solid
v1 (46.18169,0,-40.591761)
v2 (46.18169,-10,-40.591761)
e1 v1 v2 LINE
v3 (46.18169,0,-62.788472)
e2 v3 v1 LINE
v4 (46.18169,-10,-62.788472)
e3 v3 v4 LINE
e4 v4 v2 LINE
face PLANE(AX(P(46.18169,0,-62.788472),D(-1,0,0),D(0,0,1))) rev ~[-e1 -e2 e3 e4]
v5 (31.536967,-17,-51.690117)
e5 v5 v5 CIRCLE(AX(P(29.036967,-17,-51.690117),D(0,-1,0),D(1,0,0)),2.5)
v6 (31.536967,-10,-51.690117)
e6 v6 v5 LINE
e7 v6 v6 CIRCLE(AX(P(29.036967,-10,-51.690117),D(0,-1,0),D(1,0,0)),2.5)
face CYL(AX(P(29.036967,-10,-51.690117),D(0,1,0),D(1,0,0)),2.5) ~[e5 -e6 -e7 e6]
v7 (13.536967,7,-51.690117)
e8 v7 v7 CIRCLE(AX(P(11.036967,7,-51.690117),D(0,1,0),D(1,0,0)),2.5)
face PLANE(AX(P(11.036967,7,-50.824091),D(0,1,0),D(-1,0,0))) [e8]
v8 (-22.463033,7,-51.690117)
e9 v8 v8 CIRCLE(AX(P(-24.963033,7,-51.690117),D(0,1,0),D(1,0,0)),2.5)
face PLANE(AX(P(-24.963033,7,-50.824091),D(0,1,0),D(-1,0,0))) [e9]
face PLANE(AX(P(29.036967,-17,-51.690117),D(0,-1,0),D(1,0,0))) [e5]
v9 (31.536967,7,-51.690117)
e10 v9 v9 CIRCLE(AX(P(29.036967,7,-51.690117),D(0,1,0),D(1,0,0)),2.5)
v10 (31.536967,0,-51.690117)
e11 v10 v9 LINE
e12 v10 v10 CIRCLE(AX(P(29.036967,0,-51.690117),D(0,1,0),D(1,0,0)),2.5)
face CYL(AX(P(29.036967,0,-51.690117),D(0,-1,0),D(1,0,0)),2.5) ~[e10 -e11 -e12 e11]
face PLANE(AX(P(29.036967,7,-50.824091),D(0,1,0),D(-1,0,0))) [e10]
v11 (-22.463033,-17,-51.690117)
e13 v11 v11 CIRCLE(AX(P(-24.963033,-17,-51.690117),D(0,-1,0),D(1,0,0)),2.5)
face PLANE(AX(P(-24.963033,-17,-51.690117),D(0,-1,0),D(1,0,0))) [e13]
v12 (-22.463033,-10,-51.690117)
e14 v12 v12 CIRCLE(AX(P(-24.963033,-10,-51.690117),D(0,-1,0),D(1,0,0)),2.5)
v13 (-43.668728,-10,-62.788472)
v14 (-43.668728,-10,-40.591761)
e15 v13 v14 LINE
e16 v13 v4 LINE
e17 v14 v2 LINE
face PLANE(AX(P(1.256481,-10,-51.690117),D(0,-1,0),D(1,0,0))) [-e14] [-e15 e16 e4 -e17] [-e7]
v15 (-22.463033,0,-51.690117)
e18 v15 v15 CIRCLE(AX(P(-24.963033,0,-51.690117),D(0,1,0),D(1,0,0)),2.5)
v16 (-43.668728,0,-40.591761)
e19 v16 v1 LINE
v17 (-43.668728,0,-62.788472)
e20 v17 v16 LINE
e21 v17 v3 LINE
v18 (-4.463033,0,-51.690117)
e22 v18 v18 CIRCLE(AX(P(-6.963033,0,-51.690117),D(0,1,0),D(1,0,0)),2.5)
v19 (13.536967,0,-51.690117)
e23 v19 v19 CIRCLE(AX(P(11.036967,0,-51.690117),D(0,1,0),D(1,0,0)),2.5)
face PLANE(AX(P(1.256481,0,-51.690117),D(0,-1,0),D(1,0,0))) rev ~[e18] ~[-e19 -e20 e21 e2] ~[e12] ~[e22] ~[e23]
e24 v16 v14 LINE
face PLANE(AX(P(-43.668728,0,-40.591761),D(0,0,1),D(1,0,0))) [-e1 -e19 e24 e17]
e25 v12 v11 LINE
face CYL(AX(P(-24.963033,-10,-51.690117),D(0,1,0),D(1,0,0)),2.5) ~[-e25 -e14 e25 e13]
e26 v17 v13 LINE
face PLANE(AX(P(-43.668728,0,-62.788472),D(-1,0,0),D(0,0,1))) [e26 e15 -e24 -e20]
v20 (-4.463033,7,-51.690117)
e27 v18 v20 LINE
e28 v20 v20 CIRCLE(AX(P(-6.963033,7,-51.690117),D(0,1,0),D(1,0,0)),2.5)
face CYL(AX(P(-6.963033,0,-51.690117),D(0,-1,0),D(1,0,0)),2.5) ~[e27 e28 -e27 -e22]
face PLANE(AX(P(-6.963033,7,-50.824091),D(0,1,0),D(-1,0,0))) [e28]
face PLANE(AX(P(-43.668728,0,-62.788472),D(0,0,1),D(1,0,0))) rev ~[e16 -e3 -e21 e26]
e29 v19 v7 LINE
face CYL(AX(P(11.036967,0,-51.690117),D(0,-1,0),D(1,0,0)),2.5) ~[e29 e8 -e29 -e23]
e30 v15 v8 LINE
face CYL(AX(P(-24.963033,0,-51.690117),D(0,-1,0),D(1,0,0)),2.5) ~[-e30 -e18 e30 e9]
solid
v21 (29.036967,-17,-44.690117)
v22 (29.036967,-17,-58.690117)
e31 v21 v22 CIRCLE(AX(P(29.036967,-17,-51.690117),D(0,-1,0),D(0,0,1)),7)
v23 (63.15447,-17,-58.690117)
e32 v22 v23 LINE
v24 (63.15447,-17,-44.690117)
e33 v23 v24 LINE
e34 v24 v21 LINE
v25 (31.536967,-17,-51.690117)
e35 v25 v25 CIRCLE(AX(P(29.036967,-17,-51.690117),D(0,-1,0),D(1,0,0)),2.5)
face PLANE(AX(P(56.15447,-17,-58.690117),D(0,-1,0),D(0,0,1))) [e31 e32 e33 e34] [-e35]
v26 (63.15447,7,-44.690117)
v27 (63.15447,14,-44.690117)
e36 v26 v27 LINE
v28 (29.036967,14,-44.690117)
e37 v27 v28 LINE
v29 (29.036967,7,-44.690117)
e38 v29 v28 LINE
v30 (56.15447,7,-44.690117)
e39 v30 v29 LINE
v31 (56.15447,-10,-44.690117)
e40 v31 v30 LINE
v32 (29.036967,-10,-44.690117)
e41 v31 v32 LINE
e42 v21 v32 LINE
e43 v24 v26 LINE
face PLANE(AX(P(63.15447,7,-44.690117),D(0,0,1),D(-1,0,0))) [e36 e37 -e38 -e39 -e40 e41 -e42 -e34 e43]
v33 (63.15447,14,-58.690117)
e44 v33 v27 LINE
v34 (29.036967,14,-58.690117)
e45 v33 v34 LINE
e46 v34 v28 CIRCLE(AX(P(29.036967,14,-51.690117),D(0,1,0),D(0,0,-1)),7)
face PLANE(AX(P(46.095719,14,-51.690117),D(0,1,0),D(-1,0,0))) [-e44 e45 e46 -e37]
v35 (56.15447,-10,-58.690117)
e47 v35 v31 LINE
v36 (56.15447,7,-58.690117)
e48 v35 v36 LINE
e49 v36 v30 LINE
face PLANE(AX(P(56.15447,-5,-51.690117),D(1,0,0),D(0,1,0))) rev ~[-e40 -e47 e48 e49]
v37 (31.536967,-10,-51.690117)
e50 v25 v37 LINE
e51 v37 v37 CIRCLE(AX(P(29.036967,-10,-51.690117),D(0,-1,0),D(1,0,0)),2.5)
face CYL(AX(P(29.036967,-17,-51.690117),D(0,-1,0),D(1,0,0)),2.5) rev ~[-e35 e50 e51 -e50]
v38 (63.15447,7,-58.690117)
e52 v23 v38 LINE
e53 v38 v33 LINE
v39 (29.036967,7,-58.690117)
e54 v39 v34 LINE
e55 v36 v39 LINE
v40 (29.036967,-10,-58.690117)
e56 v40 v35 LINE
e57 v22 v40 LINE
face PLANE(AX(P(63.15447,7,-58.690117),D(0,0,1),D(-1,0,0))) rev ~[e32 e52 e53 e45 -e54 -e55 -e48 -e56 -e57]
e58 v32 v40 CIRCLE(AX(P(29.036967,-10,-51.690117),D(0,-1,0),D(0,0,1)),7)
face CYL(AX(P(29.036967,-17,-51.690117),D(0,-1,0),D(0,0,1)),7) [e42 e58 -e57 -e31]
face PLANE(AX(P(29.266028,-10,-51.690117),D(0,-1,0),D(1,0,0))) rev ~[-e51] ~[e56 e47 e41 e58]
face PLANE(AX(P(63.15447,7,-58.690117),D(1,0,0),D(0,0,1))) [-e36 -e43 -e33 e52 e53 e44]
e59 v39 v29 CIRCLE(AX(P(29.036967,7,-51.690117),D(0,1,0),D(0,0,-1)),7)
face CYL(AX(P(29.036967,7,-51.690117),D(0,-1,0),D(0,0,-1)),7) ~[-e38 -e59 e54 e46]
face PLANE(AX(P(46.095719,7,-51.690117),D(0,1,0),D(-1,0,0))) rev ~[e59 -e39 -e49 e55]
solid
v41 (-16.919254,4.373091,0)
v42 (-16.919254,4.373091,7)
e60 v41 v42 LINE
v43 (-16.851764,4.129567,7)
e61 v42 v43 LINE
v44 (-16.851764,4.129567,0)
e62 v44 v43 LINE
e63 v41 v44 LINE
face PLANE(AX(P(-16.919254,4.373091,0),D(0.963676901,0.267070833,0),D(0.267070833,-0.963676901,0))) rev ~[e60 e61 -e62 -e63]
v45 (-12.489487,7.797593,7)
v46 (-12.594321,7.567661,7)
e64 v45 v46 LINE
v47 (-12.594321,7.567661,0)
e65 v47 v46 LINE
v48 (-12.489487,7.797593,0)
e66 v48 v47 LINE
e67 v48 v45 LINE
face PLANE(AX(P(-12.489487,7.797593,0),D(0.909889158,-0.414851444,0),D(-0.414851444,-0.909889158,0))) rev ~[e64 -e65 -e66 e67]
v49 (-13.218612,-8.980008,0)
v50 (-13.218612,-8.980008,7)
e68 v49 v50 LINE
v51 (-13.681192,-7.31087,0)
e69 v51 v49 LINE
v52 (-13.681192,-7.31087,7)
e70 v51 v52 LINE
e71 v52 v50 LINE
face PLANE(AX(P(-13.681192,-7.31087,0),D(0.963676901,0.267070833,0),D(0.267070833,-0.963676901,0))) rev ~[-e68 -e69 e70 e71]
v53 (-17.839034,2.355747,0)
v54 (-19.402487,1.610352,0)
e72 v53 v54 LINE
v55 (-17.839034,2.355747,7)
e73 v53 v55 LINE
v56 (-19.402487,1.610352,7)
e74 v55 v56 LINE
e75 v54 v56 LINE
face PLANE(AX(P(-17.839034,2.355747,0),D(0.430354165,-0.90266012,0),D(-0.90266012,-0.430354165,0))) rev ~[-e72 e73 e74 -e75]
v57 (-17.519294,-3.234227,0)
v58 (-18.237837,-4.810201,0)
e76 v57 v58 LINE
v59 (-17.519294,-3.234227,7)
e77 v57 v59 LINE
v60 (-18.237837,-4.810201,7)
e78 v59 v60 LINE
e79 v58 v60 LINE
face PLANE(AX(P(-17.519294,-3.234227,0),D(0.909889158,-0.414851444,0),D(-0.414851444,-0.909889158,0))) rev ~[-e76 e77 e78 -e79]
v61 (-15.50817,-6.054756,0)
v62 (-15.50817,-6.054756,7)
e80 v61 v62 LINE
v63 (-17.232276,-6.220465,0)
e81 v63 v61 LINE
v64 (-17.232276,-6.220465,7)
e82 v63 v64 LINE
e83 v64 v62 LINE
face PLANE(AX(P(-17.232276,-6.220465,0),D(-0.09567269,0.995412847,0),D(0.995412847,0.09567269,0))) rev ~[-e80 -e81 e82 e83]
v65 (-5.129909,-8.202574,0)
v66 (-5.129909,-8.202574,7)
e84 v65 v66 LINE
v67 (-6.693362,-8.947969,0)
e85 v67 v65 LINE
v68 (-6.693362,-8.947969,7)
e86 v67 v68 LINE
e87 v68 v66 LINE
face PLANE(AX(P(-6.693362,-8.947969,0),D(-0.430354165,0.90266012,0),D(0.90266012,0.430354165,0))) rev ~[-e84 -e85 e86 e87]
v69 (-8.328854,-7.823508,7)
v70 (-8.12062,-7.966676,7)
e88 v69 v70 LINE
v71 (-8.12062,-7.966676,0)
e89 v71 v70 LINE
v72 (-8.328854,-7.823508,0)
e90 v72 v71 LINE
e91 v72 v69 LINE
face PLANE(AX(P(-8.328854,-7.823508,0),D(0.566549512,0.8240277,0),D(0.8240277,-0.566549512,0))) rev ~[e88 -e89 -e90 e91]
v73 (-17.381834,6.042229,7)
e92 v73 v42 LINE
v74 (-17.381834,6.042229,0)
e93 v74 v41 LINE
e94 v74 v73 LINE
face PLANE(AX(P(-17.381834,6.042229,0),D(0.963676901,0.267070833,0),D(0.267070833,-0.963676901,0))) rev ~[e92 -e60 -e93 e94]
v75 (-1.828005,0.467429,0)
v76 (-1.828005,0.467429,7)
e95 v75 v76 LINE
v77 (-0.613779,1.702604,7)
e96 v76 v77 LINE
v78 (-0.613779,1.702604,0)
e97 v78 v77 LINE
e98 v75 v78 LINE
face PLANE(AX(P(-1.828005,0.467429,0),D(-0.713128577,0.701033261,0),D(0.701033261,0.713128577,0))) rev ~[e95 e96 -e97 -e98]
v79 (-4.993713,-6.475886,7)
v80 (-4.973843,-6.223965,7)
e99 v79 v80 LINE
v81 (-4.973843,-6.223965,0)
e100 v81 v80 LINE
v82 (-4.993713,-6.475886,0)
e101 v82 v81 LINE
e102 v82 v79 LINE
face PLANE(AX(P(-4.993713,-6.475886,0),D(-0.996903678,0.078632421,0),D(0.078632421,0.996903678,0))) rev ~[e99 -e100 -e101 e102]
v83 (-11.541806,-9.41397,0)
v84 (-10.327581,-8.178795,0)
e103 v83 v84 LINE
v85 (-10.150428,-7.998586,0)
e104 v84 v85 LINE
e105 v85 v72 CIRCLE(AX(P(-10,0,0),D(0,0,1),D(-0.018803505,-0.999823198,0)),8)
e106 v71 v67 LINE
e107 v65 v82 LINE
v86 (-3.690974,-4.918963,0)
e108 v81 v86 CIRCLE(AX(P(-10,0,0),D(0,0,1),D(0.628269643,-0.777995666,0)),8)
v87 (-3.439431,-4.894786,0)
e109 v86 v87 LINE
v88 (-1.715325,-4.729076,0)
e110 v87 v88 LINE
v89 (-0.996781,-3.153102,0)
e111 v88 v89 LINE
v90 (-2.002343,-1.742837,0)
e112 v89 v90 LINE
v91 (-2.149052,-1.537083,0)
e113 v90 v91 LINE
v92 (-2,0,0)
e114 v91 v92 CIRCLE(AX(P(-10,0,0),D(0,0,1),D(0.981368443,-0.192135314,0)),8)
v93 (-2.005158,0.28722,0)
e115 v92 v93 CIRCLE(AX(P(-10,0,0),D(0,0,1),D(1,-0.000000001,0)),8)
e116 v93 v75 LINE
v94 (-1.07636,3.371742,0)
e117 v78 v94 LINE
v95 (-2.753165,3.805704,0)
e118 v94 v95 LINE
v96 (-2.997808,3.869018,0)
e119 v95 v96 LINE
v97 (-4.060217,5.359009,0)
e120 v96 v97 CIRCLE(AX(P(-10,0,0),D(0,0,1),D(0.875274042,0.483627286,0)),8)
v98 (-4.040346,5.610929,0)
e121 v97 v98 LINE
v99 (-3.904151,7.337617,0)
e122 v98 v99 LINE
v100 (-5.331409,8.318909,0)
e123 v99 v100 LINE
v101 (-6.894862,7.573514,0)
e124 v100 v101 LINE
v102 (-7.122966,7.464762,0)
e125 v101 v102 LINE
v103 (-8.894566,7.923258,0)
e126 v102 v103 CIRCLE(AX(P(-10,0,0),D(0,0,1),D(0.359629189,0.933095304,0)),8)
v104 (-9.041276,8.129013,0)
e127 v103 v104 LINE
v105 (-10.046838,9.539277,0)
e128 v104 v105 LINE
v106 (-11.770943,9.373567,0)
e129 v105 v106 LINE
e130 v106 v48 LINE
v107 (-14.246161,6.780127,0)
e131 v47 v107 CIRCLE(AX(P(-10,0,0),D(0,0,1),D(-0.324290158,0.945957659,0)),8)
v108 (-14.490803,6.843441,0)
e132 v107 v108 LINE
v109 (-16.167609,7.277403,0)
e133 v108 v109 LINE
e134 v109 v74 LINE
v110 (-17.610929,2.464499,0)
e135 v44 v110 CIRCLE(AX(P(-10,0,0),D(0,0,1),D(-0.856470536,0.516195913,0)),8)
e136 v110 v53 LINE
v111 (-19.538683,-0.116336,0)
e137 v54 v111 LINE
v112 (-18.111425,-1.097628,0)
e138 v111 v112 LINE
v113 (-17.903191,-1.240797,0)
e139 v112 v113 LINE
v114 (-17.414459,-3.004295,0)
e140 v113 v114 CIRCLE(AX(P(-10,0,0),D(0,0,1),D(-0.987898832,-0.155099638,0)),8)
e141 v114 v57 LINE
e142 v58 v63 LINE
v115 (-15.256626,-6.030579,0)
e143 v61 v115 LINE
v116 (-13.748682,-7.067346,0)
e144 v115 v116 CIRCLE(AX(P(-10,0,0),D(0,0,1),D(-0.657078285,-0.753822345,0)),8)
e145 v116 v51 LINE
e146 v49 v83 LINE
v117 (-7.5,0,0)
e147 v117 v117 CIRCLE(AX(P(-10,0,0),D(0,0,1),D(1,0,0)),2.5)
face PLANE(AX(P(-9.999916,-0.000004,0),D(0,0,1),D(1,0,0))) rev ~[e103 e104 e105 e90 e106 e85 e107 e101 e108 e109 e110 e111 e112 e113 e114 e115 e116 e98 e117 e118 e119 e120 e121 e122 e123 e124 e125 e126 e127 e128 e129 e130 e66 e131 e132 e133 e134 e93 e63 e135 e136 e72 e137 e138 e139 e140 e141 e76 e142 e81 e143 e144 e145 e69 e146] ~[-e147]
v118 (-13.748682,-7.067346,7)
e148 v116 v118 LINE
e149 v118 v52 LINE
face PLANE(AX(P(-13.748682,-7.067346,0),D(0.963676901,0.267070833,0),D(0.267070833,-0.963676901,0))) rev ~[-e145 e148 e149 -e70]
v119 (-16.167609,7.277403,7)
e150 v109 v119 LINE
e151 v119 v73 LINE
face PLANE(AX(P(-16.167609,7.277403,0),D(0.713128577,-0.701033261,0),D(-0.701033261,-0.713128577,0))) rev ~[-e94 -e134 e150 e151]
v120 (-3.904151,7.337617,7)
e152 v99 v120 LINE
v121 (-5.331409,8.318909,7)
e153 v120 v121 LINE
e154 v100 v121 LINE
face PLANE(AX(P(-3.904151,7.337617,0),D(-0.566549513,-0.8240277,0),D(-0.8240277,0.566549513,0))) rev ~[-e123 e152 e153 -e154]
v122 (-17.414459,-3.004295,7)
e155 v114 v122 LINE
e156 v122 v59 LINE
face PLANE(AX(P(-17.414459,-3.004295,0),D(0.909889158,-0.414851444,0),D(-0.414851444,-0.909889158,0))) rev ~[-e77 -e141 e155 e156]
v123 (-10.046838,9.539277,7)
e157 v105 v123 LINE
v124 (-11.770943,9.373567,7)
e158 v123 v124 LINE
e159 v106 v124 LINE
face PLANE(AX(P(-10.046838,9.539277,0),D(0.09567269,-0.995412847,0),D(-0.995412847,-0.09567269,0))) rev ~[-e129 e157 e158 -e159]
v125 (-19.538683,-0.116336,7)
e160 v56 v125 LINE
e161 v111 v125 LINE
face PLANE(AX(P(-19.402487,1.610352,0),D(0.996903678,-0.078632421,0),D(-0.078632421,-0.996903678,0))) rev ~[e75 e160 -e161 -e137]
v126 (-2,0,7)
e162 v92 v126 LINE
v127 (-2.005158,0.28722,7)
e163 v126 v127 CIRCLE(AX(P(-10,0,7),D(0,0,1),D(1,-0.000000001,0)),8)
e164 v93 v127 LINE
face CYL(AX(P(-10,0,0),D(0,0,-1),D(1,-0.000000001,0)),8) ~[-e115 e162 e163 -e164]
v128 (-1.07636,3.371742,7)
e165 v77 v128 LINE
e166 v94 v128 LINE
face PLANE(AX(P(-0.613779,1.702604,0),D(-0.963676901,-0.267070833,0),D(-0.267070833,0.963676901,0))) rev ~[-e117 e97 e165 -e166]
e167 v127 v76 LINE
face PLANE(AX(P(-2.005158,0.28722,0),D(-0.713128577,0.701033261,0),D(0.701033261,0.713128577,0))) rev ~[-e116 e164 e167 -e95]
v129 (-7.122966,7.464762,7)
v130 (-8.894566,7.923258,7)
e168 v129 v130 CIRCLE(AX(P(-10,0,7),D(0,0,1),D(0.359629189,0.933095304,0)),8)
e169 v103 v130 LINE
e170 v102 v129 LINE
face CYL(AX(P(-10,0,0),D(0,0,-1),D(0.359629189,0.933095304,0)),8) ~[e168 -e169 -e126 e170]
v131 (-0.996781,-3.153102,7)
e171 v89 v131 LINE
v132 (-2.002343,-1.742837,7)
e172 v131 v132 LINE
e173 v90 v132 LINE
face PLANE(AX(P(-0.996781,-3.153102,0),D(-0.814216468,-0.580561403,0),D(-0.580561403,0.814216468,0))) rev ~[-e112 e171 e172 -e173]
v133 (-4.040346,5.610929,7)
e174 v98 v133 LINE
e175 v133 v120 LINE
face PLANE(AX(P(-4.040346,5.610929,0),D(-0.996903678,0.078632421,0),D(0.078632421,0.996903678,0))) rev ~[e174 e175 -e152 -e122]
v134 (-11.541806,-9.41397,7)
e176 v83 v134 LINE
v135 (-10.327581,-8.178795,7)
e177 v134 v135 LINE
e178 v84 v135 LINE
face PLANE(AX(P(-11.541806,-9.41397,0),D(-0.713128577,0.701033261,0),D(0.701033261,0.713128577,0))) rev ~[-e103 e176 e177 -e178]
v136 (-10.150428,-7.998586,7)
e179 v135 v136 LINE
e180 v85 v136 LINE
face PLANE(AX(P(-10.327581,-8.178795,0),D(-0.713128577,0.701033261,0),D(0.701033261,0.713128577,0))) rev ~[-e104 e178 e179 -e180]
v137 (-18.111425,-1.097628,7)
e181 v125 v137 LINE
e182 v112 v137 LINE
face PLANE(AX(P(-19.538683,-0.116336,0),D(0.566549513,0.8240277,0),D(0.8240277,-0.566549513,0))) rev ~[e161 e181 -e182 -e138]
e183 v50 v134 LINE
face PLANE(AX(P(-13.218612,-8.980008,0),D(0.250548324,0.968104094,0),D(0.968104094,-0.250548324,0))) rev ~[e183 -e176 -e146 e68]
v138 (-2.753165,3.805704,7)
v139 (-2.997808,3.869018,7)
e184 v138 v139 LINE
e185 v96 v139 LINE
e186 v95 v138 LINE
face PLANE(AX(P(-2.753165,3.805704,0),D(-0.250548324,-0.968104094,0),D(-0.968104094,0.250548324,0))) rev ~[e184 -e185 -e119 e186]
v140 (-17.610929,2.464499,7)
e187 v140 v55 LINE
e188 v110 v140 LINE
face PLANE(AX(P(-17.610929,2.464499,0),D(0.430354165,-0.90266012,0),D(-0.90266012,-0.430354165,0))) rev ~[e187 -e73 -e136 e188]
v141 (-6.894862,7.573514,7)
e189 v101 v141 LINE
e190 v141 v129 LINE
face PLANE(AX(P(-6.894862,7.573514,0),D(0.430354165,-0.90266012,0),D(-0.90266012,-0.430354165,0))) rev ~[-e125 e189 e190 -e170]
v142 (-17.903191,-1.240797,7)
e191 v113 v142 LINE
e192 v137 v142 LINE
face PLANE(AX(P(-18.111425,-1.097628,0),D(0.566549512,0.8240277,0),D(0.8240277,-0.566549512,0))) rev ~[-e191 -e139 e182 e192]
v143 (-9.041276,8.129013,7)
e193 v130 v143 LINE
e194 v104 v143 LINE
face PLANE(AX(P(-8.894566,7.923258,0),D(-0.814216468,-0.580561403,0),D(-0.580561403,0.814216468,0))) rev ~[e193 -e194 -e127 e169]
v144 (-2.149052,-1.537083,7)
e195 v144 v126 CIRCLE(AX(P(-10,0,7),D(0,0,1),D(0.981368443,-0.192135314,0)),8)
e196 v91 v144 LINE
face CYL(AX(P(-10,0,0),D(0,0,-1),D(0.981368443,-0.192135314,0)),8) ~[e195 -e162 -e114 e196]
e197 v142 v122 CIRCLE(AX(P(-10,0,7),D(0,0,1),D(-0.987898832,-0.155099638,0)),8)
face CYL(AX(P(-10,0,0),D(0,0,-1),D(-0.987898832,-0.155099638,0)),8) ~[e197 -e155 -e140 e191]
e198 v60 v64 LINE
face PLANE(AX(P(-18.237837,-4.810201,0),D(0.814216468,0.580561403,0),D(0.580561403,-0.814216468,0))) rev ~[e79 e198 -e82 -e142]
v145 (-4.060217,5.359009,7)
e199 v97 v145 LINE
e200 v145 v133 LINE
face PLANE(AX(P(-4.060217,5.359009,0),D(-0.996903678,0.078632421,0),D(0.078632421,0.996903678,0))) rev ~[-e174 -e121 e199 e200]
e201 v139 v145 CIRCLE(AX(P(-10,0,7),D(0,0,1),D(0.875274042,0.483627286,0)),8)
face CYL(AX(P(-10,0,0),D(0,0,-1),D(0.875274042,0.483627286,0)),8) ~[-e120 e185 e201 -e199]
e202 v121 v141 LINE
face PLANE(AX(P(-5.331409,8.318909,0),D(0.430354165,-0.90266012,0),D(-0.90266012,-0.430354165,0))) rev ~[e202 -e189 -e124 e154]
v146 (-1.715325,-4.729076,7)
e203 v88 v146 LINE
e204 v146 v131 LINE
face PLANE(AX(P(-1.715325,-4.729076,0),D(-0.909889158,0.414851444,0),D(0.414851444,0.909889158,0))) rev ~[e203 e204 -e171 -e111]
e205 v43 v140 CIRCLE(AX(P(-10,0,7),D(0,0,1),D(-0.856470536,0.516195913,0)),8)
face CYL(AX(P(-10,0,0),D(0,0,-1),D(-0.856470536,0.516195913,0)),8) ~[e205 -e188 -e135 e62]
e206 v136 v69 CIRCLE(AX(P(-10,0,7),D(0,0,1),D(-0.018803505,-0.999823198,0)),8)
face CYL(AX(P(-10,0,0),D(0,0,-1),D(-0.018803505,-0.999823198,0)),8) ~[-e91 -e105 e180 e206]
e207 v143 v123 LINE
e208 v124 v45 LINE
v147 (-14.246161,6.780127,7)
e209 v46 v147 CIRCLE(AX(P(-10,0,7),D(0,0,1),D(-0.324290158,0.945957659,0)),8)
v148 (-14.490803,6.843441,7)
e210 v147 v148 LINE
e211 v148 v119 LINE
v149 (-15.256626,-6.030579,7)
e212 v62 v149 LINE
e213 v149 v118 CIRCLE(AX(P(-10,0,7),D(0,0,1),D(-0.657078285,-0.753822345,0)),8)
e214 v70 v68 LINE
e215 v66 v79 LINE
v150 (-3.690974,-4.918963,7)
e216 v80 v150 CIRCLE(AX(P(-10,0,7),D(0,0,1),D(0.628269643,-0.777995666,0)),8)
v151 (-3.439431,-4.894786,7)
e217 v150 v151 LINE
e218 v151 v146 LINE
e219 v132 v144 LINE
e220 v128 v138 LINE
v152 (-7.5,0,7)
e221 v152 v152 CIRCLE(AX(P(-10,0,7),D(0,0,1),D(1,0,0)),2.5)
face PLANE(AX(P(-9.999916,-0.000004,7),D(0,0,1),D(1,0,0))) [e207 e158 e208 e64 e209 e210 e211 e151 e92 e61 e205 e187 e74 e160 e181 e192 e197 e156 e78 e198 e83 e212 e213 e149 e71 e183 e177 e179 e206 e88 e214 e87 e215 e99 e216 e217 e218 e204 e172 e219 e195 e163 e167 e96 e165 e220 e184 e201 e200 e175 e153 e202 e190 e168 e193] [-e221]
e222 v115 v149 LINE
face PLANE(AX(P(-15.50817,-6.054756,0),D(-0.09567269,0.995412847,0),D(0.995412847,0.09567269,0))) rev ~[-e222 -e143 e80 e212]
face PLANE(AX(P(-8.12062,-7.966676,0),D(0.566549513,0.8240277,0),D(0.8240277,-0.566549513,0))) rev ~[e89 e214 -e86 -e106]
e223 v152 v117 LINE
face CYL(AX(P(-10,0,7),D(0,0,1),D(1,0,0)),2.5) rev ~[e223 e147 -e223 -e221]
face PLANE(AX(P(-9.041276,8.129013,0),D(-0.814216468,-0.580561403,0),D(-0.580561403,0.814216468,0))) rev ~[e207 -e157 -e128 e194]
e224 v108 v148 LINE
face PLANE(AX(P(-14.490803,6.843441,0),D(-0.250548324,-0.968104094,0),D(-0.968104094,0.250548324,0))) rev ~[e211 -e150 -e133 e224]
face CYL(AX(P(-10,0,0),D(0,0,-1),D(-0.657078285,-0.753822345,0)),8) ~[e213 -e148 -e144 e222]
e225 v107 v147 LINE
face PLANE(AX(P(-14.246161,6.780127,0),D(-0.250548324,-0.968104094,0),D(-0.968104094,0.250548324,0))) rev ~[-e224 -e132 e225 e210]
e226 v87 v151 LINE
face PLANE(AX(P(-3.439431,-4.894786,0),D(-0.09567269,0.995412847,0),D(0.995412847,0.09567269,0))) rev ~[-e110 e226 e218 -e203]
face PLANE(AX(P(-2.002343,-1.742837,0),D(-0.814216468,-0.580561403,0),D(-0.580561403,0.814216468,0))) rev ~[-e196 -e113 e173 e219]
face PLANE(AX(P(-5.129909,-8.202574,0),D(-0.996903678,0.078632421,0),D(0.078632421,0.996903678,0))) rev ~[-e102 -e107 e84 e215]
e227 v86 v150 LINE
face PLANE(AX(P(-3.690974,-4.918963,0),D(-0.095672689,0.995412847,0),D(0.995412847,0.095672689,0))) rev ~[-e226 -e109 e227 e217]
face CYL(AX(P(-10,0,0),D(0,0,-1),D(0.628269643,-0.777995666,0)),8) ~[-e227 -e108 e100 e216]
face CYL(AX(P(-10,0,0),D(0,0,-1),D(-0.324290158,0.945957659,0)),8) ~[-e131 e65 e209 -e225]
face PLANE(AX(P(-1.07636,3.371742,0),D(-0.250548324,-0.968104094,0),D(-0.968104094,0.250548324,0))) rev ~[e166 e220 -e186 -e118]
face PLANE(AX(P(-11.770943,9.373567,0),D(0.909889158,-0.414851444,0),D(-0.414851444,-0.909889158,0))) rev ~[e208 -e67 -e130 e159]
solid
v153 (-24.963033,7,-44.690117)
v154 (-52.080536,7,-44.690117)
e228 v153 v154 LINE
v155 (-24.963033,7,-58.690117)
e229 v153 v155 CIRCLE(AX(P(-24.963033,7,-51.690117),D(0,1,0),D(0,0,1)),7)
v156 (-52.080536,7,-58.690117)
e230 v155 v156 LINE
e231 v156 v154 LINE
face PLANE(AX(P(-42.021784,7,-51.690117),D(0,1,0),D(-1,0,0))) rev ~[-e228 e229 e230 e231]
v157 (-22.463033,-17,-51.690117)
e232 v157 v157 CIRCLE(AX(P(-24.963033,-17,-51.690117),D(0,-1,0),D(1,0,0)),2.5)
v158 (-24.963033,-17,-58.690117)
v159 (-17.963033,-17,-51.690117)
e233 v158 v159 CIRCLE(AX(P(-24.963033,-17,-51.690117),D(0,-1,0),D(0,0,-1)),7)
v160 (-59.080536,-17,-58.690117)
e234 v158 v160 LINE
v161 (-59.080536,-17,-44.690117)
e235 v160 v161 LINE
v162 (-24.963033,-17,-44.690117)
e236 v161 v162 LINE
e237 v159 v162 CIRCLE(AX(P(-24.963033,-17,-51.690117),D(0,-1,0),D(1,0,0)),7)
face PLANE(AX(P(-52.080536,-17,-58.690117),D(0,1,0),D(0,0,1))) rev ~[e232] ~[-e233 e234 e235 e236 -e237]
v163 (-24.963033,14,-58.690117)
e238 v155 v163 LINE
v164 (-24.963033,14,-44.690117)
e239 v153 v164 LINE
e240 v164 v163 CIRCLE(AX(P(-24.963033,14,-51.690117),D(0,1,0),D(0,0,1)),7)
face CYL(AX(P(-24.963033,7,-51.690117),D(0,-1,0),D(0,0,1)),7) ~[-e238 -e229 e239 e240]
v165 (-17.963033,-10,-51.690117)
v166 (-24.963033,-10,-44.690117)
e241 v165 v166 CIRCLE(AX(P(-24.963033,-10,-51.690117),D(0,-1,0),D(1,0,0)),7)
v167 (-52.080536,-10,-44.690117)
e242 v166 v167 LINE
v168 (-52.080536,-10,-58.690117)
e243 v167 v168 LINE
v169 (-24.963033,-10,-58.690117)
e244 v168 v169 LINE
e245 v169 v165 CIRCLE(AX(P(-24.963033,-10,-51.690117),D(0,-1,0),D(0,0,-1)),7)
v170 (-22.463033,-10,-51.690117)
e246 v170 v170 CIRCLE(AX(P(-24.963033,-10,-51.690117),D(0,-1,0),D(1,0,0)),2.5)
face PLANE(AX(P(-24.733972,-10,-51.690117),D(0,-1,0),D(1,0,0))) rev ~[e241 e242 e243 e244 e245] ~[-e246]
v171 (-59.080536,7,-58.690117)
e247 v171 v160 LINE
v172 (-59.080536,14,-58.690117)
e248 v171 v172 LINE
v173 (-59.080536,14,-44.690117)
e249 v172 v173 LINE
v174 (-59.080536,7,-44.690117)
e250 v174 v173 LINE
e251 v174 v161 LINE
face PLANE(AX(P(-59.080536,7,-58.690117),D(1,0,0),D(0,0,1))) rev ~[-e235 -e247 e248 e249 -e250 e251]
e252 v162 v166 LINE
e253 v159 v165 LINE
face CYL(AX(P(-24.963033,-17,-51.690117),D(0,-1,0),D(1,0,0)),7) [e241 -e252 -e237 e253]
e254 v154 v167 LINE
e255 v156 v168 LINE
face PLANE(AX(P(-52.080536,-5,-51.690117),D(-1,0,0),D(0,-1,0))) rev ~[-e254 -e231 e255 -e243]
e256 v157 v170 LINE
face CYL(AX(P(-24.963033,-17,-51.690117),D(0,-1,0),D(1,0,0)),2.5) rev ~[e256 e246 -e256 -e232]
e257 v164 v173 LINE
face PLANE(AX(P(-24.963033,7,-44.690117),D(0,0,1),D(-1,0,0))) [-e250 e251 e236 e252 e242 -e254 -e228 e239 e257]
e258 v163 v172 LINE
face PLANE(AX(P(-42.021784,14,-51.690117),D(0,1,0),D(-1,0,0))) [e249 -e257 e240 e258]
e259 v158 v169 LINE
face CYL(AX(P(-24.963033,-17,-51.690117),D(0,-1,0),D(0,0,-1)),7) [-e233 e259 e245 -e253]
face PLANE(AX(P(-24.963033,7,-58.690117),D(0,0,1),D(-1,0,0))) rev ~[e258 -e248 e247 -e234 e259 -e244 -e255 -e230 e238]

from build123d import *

# Parameters (mm, degrees)
F1_DEPTH  = 7
F2_R      = 2.5
F3_DEPTH  = 25
F4_W      = 89.8504182696
F4_H      = 22.1967101097
F5_DEPTH  = 10
F7_DEPTH  = 7
F8_R      = 2.5
F9_DEPTH  = 7
F10_R     = 2.5
F11_DEPTH = 7
F12_W     = 24
F12_H     = 14
F13_DEPTH = 7
F14_W     = 34.1175030857
F14_H     = 14
F15_DEPTH = 7
F16_W     = 24
F16_H     = 14
F17_DEPTH = 7
F18_W     = 34.1175030857
F18_H     = 14
F19_DEPTH = 7


with BuildPart() as f1:
    # F0 (on Top) → F1 (new body)
    with BuildSketch(Plane.XY):
        with BuildLine():
            ThreePointArc((-2.1490524557, -1.5370825146), (-2.0373503043, -0.7721462444), (-2, 0))
            ThreePointArc((-2, 0), (-2.0012895065, 0.1436330113), (-2.0051576105, 0.2872197187))
            ThreePointArc((-2.0051576105, 0.2872197187), (-2.2905847902, 2.136566667), (-2.997807665, 3.8690182869))
            ThreePointArc((-2.997807665, 3.8690182869), (-3.4862682544, 4.6444912258), (-4.0602166903, 5.3590086988))
            ThreePointArc((-4.0602166903, 5.3590086988), (-5.4676038996, 6.5922215974), (-7.1229664886, 7.4647624325))
            ThreePointArc((-7.1229664886, 7.4647624325), (-7.9956134055, 7.7448327535), (-8.8945663941, 7.92325795))
            ThreePointArc((-8.8945663941, 7.92325795), (-10.7653815164, 7.963302778), (-12.5943212668, 7.5676612744))
            ThreePointArc((-12.5943212668, 7.5676612744), (-13.4428333205, 7.2212809617), (-14.2461607676, 6.7801267492))
            ThreePointArc((-14.2461607676, 6.7801267492), (-15.7050286154, 5.6082660866), (-16.8517642916, 4.1295673009))
            ThreePointArc((-16.8517642916, 4.1295673009), (-17.279113262, 3.3188115522), (-17.6109293271, 2.4644988897))
            ThreePointArc((-17.6109293271, 2.4644988897), (-17.9752294209, 0.6290593643), (-17.9031906555, -1.2407971078))
            ThreePointArc((-17.9031906555, -1.2407971078), (-17.7094152098, -2.136566667), (-17.4144594684, -3.0042953901))
            ThreePointArc((-17.4144594684, -3.0042953901), (-16.5137317456, -4.6444912258), (-15.2566262775, -6.0305787598))
            ThreePointArc((-15.2566262775, -6.0305787598), (-14.5323961004, -6.5922215974), (-13.7486816219, -7.0673464679))
            ThreePointArc((-13.7486816219, -7.0673464679), (-12.0043865945, -7.7448327535), (-10.1504280434, -7.9985855877))
            ThreePointArc((-10.1504280434, -7.9985855877), (-9.2346184836, -7.963302778), (-8.3288539826, -7.8235075886))
            ThreePointArc((-8.3288539826, -7.8235075886), (-6.5571666795, -7.2212809617), (-4.9738428559, -6.2239653247))
            ThreePointArc((-4.9738428559, -6.2239653247), (-4.2949713846, -5.6082660866), (-3.6909741375, -4.9189625599))
            ThreePointArc((-3.6909741375, -4.9189625599), (-2.720886738, -3.3188115522), (-2.1490524557, -1.5370825146))
        make_face()
        with BuildLine():
            ThreePointArc((-2.997807665, 3.8690182869), (-2.2905847902, 2.136566667), (-2.0051576105, 0.2872197187))
            Line((-2.0051576105, 0.2872197187), (-1.8280045375, 0.4674293119))
            Line((-1.8280045375, 0.4674293119), (-0.613779312, 1.7026042395))
            Line((-0.613779312, 1.7026042395), (-1.0763595646, 3.3717415945))
            Line((-1.0763595646, 3.3717415945), (-2.7531650428, 3.805704022))
            Line((-2.7531650428, 3.805704022), (-2.997807665, 3.8690182869))
        make_face()
        with BuildLine():
            Line((-2.0023429594, -1.7428373018), (-2.1490524557, -1.5370825146))
            ThreePointArc((-2.1490524557, -1.5370825146), (-2.720886738, -3.3188115522), (-3.6909741375, -4.9189625599))
            Line((-3.6909741375, -4.9189625599), (-3.4394305167, -4.8947858027))
            Line((-3.4394305167, -4.8947858027), (-1.7153248907, -4.7290758435))
            Line((-1.7153248907, -4.7290758435), (-0.9967811121, -3.153101593))
            Line((-0.9967811121, -3.153101593), (-2.0023429594, -1.7428373018))
        make_face()
        with BuildLine():
            ThreePointArc((-7.1229664886, 7.4647624325), (-5.4676038996, 6.5922215974), (-4.0602166903, 5.3590086988))
            Line((-4.0602166903, 5.3590086988), (-4.0403460569, 5.6109290566))
            Line((-4.0403460569, 5.6109290566), (-3.9041507094, 7.3376168765))
            Line((-3.9041507094, 7.3376168765), (-5.3314085521, 8.3189094173))
            Line((-5.3314085521, 8.3189094173), (-6.8948617423, 7.5735141381))
            Line((-6.8948617423, 7.5735141381), (-7.1229664886, 7.4647624325))
        make_face()
        with BuildLine():
            Line((-4.9937134893, -6.4758856825), (-4.9738428559, -6.2239653247))
            ThreePointArc((-4.9738428559, -6.2239653247), (-6.5571666795, -7.2212809617), (-8.3288539826, -7.8235075886))
            Line((-8.3288539826, -7.8235075886), (-8.1206198697, -7.9666762408))
            Line((-8.1206198697, -7.9666762408), (-6.693362027, -8.9479687815))
            Line((-6.693362027, -8.9479687815), (-5.1299088368, -8.2025735024))
            Line((-5.1299088368, -8.2025735024), (-4.9937134893, -6.4758856825))
        make_face()
        with BuildLine():
            ThreePointArc((-12.5943212668, 7.5676612744), (-10.7653815164, 7.963302778), (-8.8945663941, 7.92325795))
            Line((-8.8945663941, 7.92325795), (-9.0412758904, 8.1290127372))
            Line((-9.0412758904, 8.1290127372), (-10.0468377377, 9.5392770285))
            Line((-10.0468377377, 9.5392770285), (-11.7709433637, 9.3735670693))
            Line((-11.7709433637, 9.3735670693), (-12.4894871423, 7.7975928188))
            Line((-12.4894871423, 7.7975928188), (-12.5943212668, 7.5676612744))
        make_face()
        with BuildLine():
            Line((-10.3275811163, -8.178795181), (-10.1504280434, -7.9985855877))
            ThreePointArc((-10.1504280434, -7.9985855877), (-12.0043865945, -7.7448327535), (-13.7486816219, -7.0673464679))
            Line((-13.7486816219, -7.0673464679), (-13.6811920726, -7.3108703261))
            Line((-13.6811920726, -7.3108703261), (-13.21861182, -8.9800076811))
            Line((-13.21861182, -8.9800076811), (-11.5418063418, -9.4139701085))
            Line((-11.5418063418, -9.4139701085), (-10.3275811163, -8.178795181))
        make_face()
        with BuildLine():
            ThreePointArc((-16.8517642916, 4.1295673009), (-15.7050286154, 5.6082660866), (-14.2461607676, 6.7801267492))
            Line((-14.2461607676, 6.7801267492), (-14.4908033898, 6.8434410141))
            Line((-14.4908033898, 6.8434410141), (-16.167608868, 7.2774034416))
            Line((-16.167608868, 7.2774034416), (-17.3818340935, 6.042228514))
            Line((-17.3818340935, 6.042228514), (-16.9192538409, 4.373091159))
            Line((-16.9192538409, 4.373091159), (-16.8517642916, 4.1295673009))
        make_face()
        with BuildLine():
            Line((-15.5081698983, -6.0547555171), (-15.2566262775, -6.0305787598))
            ThreePointArc((-15.2566262775, -6.0305787598), (-16.5137317456, -4.6444912258), (-17.4144594684, -3.0042953901))
            Line((-17.4144594684, -3.0042953901), (-17.5192935929, -3.2342269345))
            Line((-17.5192935929, -3.2342269345), (-18.2378373715, -4.810201185))
            Line((-18.2378373715, -4.810201185), (-17.2322755243, -6.2204654763))
            Line((-17.2322755243, -6.2204654763), (-15.5081698983, -6.0547555171))
        make_face()
        with BuildLine():
            ThreePointArc((-17.9031906555, -1.2407971078), (-17.9752294209, 0.6290593643), (-17.6109293271, 2.4644988897))
            Line((-17.6109293271, 2.4644988897), (-17.8390340734, 2.3557471842))
            Line((-17.8390340734, 2.3557471842), (-19.4024872636, 1.610351905))
            Line((-19.4024872636, 1.610351905), (-19.5386826111, -0.1163359149))
            Line((-19.5386826111, -0.1163359149), (-18.1114247684, -1.0976284556))
            Line((-18.1114247684, -1.0976284556), (-17.9031906555, -1.2407971078))
        make_face()
    extrude(amount=F1_DEPTH)

    # F2 (on face) → F3 (cut)
    with BuildSketch(Plane.XY.offset(7)):
        with Locations((-10, 0)):
            Circle(F2_R)
    extrude(amount=-F3_DEPTH, mode=Mode.SUBTRACT)


with BuildPart() as f5:
    # F4 (on Front) → F5 (new body)
    with BuildSketch(Plane.XZ):
        with Locations((1.256480813, -51.6901165247)):
            Rectangle(F4_W, F4_H)
    extrude(amount=F5_DEPTH)

    # F6 (on face) → F7 (join)
    with BuildSketch(Plane(origin=(0, 0, 0), x_dir=(-1, 0, 0), z_dir=(0, 1, 0))):
        with BuildLine():
            Line((-31.5369670838, -51.6901165247), (-26.5369670838, -51.6901165247))
            ThreePointArc((-26.5369670838, -51.6901165247), (-29.0369670838, -49.1901165247), (-31.5369670838, -51.6901165247))
        make_face()
        with BuildLine():
            ThreePointArc((-31.5369670838, -51.6901165247), (-29.0369670838, -54.1901165247), (-26.5369670838, -51.6901165247))
            Line((-26.5369670838, -51.6901165247), (-31.5369670838, -51.6901165247))
        make_face()
        with BuildLine():
            ThreePointArc((-8.5369670838, -51.6901165247), (-11.0369670838, -49.1901165247), (-13.5369670838, -51.6901165247))
            Line((-13.5369670838, -51.6901165247), (-8.5369670838, -51.6901165247))
        make_face()
        with BuildLine():
            Line((-8.5369670838, -51.6901165247), (-13.5369670838, -51.6901165247))
            ThreePointArc((-13.5369670838, -51.6901165247), (-11.0369670838, -54.1901165247), (-8.5369670838, -51.6901165247))
        make_face()
        with BuildLine():
            ThreePointArc((9.4630329162, -51.6901165247), (6.9630329162, -49.1901165247), (4.4630329162, -51.6901165247))
            Line((4.4630329162, -51.6901165247), (9.4630329162, -51.6901165247))
        make_face()
        with BuildLine():
            Line((9.4630329162, -51.6901165247), (4.4630329162, -51.6901165247))
            ThreePointArc((4.4630329162, -51.6901165247), (6.9630329162, -54.1901165247), (9.4630329162, -51.6901165247))
        make_face()
        with BuildLine():
            ThreePointArc((27.4630329162, -51.6901165247), (24.9630329162, -49.1901165247), (22.4630329162, -51.6901165247))
            Line((22.4630329162, -51.6901165247), (27.4630329162, -51.6901165247))
        make_face()
        with BuildLine():
            Line((27.4630329162, -51.6901165247), (22.4630329162, -51.6901165247))
            ThreePointArc((22.4630329162, -51.6901165247), (24.9630329162, -54.1901165247), (27.4630329162, -51.6901165247))
        make_face()
    extrude(amount=F7_DEPTH)

    # F8 (on face) → F9 (join)
    with BuildSketch(Plane.XZ.offset(10)):
        with Locations((-24.9630329162, -51.6901165247)):
            Circle(F8_R)
        with Locations((29.0369670838, -51.6901165247)):
            Circle(F8_R)
    extrude(amount=F9_DEPTH)


with BuildPart() as f11:
    # F10 (on face) → F11 (new body)
    with BuildSketch(Plane.XZ.offset(17)):
        with BuildLine():
            ThreePointArc((-24.9630329162, -58.6901165247), (-20.0132854479, -56.639863993), (-17.9630329162, -51.6901165247))
            ThreePointArc((-17.9630329162, -51.6901165247), (-20.0132854479, -46.7403690564), (-24.9630329162, -44.6901165247))
            ThreePointArc((-24.9630329162, -44.6901165247), (-31.9630329162, -51.6901165247), (-24.9630329162, -58.6901165247))
        make_face()
        with Locations((-24.9630329162, -51.6901165247)):
            Circle(F10_R, mode=Mode.SUBTRACT)
        with BuildLine():
            ThreePointArc((-24.9630329162, -58.6901165247), (-31.9630329162, -51.6901165247), (-24.9630329162, -44.6901165247))
            Line((-24.9630329162, -44.6901165247), (-52.0805360019, -44.6901165247))
            Line((-52.0805360019, -44.6901165247), (-52.0805360019, -58.6901165247))
            Line((-52.0805360019, -58.6901165247), (-24.9630329162, -58.6901165247))
        make_face()
    extrude(amount=-F11_DEPTH)

    # F12 (on face) → F13 (join)
    with BuildSketch(Plane(origin=(-52.0805360019, 0, 0), x_dir=(0, -1, 0), z_dir=(-1, 0, 0))):
        with Locations((5, -51.6901165247)):
            Rectangle(F12_W, F12_H)
    extrude(amount=F13_DEPTH)

    # F14 (on face) → F15 (join)
    with BuildSketch(Plane(origin=(0, 7, 0), x_dir=(-1, 0, 0), z_dir=(0, 1, 0))):
        with Locations((42.0217844591, -51.6901165247)):
            Rectangle(F14_W, F14_H)
        with BuildLine():
            ThreePointArc((24.9630329162, -44.6901165247), (17.9630329162, -51.6901165247), (24.9630329162, -58.6901165247))
            Line((24.9630329162, -58.6901165247), (24.9630329162, -44.6901165247))
        make_face()
    extrude(amount=F15_DEPTH)


with BuildPart() as f11b:
    # F10 (on face) → F11, piece 2 (new body)
    with BuildSketch(Plane.XZ.offset(17)):
        with BuildLine():
            ThreePointArc((29.0369670838, -58.6901165247), (33.9867145521, -56.639863993), (36.0369670838, -51.6901165247))
            ThreePointArc((36.0369670838, -51.6901165247), (33.9867145521, -46.7403690564), (29.0369670838, -44.6901165247))
            ThreePointArc((29.0369670838, -44.6901165247), (22.0369670838, -51.6901165247), (29.0369670838, -58.6901165247))
        make_face()
        with Locations((29.0369670838, -51.6901165247)):
            Circle(F10_R, mode=Mode.SUBTRACT)
        with BuildLine():
            ThreePointArc((29.0369670838, -44.6901165247), (33.9867145521, -46.7403690564), (36.0369670838, -51.6901165247))
            ThreePointArc((36.0369670838, -51.6901165247), (33.9867145521, -56.639863993), (29.0369670838, -58.6901165247))
            Line((29.0369670838, -58.6901165247), (56.1544701695, -58.6901165247))
            Line((56.1544701695, -58.6901165247), (56.1544701695, -44.6901165247))
            Line((56.1544701695, -44.6901165247), (29.0369670838, -44.6901165247))
        make_face()
    extrude(amount=-F11_DEPTH)

    # F16 (on face) → F17 (join)
    with BuildSketch(Plane.YZ.offset(56.1544701695)):
        with Locations((-5, -51.6901165247)):
            Rectangle(F16_W, F16_H)
    extrude(amount=F17_DEPTH)

    # F18 (on face) → F19 (join)
    with BuildSketch(Plane(origin=(0, 7, 0), x_dir=(-1, 0, 0), z_dir=(0, 1, 0))):
        with Locations((-46.0957186267, -51.6901165247)):
            Rectangle(F18_W, F18_H)
        with BuildLine():
            Line((-29.0369670838, -44.6901165247), (-29.0369670838, -58.6901165247))
            ThreePointArc((-29.0369670838, -58.6901165247), (-22.0369670838, -51.6901165247), (-29.0369670838, -44.6901165247))
        make_face()
    extrude(amount=F19_DEPTH)


solid = Compound([f1.part, f5.part, f11.part, f11b.part])
